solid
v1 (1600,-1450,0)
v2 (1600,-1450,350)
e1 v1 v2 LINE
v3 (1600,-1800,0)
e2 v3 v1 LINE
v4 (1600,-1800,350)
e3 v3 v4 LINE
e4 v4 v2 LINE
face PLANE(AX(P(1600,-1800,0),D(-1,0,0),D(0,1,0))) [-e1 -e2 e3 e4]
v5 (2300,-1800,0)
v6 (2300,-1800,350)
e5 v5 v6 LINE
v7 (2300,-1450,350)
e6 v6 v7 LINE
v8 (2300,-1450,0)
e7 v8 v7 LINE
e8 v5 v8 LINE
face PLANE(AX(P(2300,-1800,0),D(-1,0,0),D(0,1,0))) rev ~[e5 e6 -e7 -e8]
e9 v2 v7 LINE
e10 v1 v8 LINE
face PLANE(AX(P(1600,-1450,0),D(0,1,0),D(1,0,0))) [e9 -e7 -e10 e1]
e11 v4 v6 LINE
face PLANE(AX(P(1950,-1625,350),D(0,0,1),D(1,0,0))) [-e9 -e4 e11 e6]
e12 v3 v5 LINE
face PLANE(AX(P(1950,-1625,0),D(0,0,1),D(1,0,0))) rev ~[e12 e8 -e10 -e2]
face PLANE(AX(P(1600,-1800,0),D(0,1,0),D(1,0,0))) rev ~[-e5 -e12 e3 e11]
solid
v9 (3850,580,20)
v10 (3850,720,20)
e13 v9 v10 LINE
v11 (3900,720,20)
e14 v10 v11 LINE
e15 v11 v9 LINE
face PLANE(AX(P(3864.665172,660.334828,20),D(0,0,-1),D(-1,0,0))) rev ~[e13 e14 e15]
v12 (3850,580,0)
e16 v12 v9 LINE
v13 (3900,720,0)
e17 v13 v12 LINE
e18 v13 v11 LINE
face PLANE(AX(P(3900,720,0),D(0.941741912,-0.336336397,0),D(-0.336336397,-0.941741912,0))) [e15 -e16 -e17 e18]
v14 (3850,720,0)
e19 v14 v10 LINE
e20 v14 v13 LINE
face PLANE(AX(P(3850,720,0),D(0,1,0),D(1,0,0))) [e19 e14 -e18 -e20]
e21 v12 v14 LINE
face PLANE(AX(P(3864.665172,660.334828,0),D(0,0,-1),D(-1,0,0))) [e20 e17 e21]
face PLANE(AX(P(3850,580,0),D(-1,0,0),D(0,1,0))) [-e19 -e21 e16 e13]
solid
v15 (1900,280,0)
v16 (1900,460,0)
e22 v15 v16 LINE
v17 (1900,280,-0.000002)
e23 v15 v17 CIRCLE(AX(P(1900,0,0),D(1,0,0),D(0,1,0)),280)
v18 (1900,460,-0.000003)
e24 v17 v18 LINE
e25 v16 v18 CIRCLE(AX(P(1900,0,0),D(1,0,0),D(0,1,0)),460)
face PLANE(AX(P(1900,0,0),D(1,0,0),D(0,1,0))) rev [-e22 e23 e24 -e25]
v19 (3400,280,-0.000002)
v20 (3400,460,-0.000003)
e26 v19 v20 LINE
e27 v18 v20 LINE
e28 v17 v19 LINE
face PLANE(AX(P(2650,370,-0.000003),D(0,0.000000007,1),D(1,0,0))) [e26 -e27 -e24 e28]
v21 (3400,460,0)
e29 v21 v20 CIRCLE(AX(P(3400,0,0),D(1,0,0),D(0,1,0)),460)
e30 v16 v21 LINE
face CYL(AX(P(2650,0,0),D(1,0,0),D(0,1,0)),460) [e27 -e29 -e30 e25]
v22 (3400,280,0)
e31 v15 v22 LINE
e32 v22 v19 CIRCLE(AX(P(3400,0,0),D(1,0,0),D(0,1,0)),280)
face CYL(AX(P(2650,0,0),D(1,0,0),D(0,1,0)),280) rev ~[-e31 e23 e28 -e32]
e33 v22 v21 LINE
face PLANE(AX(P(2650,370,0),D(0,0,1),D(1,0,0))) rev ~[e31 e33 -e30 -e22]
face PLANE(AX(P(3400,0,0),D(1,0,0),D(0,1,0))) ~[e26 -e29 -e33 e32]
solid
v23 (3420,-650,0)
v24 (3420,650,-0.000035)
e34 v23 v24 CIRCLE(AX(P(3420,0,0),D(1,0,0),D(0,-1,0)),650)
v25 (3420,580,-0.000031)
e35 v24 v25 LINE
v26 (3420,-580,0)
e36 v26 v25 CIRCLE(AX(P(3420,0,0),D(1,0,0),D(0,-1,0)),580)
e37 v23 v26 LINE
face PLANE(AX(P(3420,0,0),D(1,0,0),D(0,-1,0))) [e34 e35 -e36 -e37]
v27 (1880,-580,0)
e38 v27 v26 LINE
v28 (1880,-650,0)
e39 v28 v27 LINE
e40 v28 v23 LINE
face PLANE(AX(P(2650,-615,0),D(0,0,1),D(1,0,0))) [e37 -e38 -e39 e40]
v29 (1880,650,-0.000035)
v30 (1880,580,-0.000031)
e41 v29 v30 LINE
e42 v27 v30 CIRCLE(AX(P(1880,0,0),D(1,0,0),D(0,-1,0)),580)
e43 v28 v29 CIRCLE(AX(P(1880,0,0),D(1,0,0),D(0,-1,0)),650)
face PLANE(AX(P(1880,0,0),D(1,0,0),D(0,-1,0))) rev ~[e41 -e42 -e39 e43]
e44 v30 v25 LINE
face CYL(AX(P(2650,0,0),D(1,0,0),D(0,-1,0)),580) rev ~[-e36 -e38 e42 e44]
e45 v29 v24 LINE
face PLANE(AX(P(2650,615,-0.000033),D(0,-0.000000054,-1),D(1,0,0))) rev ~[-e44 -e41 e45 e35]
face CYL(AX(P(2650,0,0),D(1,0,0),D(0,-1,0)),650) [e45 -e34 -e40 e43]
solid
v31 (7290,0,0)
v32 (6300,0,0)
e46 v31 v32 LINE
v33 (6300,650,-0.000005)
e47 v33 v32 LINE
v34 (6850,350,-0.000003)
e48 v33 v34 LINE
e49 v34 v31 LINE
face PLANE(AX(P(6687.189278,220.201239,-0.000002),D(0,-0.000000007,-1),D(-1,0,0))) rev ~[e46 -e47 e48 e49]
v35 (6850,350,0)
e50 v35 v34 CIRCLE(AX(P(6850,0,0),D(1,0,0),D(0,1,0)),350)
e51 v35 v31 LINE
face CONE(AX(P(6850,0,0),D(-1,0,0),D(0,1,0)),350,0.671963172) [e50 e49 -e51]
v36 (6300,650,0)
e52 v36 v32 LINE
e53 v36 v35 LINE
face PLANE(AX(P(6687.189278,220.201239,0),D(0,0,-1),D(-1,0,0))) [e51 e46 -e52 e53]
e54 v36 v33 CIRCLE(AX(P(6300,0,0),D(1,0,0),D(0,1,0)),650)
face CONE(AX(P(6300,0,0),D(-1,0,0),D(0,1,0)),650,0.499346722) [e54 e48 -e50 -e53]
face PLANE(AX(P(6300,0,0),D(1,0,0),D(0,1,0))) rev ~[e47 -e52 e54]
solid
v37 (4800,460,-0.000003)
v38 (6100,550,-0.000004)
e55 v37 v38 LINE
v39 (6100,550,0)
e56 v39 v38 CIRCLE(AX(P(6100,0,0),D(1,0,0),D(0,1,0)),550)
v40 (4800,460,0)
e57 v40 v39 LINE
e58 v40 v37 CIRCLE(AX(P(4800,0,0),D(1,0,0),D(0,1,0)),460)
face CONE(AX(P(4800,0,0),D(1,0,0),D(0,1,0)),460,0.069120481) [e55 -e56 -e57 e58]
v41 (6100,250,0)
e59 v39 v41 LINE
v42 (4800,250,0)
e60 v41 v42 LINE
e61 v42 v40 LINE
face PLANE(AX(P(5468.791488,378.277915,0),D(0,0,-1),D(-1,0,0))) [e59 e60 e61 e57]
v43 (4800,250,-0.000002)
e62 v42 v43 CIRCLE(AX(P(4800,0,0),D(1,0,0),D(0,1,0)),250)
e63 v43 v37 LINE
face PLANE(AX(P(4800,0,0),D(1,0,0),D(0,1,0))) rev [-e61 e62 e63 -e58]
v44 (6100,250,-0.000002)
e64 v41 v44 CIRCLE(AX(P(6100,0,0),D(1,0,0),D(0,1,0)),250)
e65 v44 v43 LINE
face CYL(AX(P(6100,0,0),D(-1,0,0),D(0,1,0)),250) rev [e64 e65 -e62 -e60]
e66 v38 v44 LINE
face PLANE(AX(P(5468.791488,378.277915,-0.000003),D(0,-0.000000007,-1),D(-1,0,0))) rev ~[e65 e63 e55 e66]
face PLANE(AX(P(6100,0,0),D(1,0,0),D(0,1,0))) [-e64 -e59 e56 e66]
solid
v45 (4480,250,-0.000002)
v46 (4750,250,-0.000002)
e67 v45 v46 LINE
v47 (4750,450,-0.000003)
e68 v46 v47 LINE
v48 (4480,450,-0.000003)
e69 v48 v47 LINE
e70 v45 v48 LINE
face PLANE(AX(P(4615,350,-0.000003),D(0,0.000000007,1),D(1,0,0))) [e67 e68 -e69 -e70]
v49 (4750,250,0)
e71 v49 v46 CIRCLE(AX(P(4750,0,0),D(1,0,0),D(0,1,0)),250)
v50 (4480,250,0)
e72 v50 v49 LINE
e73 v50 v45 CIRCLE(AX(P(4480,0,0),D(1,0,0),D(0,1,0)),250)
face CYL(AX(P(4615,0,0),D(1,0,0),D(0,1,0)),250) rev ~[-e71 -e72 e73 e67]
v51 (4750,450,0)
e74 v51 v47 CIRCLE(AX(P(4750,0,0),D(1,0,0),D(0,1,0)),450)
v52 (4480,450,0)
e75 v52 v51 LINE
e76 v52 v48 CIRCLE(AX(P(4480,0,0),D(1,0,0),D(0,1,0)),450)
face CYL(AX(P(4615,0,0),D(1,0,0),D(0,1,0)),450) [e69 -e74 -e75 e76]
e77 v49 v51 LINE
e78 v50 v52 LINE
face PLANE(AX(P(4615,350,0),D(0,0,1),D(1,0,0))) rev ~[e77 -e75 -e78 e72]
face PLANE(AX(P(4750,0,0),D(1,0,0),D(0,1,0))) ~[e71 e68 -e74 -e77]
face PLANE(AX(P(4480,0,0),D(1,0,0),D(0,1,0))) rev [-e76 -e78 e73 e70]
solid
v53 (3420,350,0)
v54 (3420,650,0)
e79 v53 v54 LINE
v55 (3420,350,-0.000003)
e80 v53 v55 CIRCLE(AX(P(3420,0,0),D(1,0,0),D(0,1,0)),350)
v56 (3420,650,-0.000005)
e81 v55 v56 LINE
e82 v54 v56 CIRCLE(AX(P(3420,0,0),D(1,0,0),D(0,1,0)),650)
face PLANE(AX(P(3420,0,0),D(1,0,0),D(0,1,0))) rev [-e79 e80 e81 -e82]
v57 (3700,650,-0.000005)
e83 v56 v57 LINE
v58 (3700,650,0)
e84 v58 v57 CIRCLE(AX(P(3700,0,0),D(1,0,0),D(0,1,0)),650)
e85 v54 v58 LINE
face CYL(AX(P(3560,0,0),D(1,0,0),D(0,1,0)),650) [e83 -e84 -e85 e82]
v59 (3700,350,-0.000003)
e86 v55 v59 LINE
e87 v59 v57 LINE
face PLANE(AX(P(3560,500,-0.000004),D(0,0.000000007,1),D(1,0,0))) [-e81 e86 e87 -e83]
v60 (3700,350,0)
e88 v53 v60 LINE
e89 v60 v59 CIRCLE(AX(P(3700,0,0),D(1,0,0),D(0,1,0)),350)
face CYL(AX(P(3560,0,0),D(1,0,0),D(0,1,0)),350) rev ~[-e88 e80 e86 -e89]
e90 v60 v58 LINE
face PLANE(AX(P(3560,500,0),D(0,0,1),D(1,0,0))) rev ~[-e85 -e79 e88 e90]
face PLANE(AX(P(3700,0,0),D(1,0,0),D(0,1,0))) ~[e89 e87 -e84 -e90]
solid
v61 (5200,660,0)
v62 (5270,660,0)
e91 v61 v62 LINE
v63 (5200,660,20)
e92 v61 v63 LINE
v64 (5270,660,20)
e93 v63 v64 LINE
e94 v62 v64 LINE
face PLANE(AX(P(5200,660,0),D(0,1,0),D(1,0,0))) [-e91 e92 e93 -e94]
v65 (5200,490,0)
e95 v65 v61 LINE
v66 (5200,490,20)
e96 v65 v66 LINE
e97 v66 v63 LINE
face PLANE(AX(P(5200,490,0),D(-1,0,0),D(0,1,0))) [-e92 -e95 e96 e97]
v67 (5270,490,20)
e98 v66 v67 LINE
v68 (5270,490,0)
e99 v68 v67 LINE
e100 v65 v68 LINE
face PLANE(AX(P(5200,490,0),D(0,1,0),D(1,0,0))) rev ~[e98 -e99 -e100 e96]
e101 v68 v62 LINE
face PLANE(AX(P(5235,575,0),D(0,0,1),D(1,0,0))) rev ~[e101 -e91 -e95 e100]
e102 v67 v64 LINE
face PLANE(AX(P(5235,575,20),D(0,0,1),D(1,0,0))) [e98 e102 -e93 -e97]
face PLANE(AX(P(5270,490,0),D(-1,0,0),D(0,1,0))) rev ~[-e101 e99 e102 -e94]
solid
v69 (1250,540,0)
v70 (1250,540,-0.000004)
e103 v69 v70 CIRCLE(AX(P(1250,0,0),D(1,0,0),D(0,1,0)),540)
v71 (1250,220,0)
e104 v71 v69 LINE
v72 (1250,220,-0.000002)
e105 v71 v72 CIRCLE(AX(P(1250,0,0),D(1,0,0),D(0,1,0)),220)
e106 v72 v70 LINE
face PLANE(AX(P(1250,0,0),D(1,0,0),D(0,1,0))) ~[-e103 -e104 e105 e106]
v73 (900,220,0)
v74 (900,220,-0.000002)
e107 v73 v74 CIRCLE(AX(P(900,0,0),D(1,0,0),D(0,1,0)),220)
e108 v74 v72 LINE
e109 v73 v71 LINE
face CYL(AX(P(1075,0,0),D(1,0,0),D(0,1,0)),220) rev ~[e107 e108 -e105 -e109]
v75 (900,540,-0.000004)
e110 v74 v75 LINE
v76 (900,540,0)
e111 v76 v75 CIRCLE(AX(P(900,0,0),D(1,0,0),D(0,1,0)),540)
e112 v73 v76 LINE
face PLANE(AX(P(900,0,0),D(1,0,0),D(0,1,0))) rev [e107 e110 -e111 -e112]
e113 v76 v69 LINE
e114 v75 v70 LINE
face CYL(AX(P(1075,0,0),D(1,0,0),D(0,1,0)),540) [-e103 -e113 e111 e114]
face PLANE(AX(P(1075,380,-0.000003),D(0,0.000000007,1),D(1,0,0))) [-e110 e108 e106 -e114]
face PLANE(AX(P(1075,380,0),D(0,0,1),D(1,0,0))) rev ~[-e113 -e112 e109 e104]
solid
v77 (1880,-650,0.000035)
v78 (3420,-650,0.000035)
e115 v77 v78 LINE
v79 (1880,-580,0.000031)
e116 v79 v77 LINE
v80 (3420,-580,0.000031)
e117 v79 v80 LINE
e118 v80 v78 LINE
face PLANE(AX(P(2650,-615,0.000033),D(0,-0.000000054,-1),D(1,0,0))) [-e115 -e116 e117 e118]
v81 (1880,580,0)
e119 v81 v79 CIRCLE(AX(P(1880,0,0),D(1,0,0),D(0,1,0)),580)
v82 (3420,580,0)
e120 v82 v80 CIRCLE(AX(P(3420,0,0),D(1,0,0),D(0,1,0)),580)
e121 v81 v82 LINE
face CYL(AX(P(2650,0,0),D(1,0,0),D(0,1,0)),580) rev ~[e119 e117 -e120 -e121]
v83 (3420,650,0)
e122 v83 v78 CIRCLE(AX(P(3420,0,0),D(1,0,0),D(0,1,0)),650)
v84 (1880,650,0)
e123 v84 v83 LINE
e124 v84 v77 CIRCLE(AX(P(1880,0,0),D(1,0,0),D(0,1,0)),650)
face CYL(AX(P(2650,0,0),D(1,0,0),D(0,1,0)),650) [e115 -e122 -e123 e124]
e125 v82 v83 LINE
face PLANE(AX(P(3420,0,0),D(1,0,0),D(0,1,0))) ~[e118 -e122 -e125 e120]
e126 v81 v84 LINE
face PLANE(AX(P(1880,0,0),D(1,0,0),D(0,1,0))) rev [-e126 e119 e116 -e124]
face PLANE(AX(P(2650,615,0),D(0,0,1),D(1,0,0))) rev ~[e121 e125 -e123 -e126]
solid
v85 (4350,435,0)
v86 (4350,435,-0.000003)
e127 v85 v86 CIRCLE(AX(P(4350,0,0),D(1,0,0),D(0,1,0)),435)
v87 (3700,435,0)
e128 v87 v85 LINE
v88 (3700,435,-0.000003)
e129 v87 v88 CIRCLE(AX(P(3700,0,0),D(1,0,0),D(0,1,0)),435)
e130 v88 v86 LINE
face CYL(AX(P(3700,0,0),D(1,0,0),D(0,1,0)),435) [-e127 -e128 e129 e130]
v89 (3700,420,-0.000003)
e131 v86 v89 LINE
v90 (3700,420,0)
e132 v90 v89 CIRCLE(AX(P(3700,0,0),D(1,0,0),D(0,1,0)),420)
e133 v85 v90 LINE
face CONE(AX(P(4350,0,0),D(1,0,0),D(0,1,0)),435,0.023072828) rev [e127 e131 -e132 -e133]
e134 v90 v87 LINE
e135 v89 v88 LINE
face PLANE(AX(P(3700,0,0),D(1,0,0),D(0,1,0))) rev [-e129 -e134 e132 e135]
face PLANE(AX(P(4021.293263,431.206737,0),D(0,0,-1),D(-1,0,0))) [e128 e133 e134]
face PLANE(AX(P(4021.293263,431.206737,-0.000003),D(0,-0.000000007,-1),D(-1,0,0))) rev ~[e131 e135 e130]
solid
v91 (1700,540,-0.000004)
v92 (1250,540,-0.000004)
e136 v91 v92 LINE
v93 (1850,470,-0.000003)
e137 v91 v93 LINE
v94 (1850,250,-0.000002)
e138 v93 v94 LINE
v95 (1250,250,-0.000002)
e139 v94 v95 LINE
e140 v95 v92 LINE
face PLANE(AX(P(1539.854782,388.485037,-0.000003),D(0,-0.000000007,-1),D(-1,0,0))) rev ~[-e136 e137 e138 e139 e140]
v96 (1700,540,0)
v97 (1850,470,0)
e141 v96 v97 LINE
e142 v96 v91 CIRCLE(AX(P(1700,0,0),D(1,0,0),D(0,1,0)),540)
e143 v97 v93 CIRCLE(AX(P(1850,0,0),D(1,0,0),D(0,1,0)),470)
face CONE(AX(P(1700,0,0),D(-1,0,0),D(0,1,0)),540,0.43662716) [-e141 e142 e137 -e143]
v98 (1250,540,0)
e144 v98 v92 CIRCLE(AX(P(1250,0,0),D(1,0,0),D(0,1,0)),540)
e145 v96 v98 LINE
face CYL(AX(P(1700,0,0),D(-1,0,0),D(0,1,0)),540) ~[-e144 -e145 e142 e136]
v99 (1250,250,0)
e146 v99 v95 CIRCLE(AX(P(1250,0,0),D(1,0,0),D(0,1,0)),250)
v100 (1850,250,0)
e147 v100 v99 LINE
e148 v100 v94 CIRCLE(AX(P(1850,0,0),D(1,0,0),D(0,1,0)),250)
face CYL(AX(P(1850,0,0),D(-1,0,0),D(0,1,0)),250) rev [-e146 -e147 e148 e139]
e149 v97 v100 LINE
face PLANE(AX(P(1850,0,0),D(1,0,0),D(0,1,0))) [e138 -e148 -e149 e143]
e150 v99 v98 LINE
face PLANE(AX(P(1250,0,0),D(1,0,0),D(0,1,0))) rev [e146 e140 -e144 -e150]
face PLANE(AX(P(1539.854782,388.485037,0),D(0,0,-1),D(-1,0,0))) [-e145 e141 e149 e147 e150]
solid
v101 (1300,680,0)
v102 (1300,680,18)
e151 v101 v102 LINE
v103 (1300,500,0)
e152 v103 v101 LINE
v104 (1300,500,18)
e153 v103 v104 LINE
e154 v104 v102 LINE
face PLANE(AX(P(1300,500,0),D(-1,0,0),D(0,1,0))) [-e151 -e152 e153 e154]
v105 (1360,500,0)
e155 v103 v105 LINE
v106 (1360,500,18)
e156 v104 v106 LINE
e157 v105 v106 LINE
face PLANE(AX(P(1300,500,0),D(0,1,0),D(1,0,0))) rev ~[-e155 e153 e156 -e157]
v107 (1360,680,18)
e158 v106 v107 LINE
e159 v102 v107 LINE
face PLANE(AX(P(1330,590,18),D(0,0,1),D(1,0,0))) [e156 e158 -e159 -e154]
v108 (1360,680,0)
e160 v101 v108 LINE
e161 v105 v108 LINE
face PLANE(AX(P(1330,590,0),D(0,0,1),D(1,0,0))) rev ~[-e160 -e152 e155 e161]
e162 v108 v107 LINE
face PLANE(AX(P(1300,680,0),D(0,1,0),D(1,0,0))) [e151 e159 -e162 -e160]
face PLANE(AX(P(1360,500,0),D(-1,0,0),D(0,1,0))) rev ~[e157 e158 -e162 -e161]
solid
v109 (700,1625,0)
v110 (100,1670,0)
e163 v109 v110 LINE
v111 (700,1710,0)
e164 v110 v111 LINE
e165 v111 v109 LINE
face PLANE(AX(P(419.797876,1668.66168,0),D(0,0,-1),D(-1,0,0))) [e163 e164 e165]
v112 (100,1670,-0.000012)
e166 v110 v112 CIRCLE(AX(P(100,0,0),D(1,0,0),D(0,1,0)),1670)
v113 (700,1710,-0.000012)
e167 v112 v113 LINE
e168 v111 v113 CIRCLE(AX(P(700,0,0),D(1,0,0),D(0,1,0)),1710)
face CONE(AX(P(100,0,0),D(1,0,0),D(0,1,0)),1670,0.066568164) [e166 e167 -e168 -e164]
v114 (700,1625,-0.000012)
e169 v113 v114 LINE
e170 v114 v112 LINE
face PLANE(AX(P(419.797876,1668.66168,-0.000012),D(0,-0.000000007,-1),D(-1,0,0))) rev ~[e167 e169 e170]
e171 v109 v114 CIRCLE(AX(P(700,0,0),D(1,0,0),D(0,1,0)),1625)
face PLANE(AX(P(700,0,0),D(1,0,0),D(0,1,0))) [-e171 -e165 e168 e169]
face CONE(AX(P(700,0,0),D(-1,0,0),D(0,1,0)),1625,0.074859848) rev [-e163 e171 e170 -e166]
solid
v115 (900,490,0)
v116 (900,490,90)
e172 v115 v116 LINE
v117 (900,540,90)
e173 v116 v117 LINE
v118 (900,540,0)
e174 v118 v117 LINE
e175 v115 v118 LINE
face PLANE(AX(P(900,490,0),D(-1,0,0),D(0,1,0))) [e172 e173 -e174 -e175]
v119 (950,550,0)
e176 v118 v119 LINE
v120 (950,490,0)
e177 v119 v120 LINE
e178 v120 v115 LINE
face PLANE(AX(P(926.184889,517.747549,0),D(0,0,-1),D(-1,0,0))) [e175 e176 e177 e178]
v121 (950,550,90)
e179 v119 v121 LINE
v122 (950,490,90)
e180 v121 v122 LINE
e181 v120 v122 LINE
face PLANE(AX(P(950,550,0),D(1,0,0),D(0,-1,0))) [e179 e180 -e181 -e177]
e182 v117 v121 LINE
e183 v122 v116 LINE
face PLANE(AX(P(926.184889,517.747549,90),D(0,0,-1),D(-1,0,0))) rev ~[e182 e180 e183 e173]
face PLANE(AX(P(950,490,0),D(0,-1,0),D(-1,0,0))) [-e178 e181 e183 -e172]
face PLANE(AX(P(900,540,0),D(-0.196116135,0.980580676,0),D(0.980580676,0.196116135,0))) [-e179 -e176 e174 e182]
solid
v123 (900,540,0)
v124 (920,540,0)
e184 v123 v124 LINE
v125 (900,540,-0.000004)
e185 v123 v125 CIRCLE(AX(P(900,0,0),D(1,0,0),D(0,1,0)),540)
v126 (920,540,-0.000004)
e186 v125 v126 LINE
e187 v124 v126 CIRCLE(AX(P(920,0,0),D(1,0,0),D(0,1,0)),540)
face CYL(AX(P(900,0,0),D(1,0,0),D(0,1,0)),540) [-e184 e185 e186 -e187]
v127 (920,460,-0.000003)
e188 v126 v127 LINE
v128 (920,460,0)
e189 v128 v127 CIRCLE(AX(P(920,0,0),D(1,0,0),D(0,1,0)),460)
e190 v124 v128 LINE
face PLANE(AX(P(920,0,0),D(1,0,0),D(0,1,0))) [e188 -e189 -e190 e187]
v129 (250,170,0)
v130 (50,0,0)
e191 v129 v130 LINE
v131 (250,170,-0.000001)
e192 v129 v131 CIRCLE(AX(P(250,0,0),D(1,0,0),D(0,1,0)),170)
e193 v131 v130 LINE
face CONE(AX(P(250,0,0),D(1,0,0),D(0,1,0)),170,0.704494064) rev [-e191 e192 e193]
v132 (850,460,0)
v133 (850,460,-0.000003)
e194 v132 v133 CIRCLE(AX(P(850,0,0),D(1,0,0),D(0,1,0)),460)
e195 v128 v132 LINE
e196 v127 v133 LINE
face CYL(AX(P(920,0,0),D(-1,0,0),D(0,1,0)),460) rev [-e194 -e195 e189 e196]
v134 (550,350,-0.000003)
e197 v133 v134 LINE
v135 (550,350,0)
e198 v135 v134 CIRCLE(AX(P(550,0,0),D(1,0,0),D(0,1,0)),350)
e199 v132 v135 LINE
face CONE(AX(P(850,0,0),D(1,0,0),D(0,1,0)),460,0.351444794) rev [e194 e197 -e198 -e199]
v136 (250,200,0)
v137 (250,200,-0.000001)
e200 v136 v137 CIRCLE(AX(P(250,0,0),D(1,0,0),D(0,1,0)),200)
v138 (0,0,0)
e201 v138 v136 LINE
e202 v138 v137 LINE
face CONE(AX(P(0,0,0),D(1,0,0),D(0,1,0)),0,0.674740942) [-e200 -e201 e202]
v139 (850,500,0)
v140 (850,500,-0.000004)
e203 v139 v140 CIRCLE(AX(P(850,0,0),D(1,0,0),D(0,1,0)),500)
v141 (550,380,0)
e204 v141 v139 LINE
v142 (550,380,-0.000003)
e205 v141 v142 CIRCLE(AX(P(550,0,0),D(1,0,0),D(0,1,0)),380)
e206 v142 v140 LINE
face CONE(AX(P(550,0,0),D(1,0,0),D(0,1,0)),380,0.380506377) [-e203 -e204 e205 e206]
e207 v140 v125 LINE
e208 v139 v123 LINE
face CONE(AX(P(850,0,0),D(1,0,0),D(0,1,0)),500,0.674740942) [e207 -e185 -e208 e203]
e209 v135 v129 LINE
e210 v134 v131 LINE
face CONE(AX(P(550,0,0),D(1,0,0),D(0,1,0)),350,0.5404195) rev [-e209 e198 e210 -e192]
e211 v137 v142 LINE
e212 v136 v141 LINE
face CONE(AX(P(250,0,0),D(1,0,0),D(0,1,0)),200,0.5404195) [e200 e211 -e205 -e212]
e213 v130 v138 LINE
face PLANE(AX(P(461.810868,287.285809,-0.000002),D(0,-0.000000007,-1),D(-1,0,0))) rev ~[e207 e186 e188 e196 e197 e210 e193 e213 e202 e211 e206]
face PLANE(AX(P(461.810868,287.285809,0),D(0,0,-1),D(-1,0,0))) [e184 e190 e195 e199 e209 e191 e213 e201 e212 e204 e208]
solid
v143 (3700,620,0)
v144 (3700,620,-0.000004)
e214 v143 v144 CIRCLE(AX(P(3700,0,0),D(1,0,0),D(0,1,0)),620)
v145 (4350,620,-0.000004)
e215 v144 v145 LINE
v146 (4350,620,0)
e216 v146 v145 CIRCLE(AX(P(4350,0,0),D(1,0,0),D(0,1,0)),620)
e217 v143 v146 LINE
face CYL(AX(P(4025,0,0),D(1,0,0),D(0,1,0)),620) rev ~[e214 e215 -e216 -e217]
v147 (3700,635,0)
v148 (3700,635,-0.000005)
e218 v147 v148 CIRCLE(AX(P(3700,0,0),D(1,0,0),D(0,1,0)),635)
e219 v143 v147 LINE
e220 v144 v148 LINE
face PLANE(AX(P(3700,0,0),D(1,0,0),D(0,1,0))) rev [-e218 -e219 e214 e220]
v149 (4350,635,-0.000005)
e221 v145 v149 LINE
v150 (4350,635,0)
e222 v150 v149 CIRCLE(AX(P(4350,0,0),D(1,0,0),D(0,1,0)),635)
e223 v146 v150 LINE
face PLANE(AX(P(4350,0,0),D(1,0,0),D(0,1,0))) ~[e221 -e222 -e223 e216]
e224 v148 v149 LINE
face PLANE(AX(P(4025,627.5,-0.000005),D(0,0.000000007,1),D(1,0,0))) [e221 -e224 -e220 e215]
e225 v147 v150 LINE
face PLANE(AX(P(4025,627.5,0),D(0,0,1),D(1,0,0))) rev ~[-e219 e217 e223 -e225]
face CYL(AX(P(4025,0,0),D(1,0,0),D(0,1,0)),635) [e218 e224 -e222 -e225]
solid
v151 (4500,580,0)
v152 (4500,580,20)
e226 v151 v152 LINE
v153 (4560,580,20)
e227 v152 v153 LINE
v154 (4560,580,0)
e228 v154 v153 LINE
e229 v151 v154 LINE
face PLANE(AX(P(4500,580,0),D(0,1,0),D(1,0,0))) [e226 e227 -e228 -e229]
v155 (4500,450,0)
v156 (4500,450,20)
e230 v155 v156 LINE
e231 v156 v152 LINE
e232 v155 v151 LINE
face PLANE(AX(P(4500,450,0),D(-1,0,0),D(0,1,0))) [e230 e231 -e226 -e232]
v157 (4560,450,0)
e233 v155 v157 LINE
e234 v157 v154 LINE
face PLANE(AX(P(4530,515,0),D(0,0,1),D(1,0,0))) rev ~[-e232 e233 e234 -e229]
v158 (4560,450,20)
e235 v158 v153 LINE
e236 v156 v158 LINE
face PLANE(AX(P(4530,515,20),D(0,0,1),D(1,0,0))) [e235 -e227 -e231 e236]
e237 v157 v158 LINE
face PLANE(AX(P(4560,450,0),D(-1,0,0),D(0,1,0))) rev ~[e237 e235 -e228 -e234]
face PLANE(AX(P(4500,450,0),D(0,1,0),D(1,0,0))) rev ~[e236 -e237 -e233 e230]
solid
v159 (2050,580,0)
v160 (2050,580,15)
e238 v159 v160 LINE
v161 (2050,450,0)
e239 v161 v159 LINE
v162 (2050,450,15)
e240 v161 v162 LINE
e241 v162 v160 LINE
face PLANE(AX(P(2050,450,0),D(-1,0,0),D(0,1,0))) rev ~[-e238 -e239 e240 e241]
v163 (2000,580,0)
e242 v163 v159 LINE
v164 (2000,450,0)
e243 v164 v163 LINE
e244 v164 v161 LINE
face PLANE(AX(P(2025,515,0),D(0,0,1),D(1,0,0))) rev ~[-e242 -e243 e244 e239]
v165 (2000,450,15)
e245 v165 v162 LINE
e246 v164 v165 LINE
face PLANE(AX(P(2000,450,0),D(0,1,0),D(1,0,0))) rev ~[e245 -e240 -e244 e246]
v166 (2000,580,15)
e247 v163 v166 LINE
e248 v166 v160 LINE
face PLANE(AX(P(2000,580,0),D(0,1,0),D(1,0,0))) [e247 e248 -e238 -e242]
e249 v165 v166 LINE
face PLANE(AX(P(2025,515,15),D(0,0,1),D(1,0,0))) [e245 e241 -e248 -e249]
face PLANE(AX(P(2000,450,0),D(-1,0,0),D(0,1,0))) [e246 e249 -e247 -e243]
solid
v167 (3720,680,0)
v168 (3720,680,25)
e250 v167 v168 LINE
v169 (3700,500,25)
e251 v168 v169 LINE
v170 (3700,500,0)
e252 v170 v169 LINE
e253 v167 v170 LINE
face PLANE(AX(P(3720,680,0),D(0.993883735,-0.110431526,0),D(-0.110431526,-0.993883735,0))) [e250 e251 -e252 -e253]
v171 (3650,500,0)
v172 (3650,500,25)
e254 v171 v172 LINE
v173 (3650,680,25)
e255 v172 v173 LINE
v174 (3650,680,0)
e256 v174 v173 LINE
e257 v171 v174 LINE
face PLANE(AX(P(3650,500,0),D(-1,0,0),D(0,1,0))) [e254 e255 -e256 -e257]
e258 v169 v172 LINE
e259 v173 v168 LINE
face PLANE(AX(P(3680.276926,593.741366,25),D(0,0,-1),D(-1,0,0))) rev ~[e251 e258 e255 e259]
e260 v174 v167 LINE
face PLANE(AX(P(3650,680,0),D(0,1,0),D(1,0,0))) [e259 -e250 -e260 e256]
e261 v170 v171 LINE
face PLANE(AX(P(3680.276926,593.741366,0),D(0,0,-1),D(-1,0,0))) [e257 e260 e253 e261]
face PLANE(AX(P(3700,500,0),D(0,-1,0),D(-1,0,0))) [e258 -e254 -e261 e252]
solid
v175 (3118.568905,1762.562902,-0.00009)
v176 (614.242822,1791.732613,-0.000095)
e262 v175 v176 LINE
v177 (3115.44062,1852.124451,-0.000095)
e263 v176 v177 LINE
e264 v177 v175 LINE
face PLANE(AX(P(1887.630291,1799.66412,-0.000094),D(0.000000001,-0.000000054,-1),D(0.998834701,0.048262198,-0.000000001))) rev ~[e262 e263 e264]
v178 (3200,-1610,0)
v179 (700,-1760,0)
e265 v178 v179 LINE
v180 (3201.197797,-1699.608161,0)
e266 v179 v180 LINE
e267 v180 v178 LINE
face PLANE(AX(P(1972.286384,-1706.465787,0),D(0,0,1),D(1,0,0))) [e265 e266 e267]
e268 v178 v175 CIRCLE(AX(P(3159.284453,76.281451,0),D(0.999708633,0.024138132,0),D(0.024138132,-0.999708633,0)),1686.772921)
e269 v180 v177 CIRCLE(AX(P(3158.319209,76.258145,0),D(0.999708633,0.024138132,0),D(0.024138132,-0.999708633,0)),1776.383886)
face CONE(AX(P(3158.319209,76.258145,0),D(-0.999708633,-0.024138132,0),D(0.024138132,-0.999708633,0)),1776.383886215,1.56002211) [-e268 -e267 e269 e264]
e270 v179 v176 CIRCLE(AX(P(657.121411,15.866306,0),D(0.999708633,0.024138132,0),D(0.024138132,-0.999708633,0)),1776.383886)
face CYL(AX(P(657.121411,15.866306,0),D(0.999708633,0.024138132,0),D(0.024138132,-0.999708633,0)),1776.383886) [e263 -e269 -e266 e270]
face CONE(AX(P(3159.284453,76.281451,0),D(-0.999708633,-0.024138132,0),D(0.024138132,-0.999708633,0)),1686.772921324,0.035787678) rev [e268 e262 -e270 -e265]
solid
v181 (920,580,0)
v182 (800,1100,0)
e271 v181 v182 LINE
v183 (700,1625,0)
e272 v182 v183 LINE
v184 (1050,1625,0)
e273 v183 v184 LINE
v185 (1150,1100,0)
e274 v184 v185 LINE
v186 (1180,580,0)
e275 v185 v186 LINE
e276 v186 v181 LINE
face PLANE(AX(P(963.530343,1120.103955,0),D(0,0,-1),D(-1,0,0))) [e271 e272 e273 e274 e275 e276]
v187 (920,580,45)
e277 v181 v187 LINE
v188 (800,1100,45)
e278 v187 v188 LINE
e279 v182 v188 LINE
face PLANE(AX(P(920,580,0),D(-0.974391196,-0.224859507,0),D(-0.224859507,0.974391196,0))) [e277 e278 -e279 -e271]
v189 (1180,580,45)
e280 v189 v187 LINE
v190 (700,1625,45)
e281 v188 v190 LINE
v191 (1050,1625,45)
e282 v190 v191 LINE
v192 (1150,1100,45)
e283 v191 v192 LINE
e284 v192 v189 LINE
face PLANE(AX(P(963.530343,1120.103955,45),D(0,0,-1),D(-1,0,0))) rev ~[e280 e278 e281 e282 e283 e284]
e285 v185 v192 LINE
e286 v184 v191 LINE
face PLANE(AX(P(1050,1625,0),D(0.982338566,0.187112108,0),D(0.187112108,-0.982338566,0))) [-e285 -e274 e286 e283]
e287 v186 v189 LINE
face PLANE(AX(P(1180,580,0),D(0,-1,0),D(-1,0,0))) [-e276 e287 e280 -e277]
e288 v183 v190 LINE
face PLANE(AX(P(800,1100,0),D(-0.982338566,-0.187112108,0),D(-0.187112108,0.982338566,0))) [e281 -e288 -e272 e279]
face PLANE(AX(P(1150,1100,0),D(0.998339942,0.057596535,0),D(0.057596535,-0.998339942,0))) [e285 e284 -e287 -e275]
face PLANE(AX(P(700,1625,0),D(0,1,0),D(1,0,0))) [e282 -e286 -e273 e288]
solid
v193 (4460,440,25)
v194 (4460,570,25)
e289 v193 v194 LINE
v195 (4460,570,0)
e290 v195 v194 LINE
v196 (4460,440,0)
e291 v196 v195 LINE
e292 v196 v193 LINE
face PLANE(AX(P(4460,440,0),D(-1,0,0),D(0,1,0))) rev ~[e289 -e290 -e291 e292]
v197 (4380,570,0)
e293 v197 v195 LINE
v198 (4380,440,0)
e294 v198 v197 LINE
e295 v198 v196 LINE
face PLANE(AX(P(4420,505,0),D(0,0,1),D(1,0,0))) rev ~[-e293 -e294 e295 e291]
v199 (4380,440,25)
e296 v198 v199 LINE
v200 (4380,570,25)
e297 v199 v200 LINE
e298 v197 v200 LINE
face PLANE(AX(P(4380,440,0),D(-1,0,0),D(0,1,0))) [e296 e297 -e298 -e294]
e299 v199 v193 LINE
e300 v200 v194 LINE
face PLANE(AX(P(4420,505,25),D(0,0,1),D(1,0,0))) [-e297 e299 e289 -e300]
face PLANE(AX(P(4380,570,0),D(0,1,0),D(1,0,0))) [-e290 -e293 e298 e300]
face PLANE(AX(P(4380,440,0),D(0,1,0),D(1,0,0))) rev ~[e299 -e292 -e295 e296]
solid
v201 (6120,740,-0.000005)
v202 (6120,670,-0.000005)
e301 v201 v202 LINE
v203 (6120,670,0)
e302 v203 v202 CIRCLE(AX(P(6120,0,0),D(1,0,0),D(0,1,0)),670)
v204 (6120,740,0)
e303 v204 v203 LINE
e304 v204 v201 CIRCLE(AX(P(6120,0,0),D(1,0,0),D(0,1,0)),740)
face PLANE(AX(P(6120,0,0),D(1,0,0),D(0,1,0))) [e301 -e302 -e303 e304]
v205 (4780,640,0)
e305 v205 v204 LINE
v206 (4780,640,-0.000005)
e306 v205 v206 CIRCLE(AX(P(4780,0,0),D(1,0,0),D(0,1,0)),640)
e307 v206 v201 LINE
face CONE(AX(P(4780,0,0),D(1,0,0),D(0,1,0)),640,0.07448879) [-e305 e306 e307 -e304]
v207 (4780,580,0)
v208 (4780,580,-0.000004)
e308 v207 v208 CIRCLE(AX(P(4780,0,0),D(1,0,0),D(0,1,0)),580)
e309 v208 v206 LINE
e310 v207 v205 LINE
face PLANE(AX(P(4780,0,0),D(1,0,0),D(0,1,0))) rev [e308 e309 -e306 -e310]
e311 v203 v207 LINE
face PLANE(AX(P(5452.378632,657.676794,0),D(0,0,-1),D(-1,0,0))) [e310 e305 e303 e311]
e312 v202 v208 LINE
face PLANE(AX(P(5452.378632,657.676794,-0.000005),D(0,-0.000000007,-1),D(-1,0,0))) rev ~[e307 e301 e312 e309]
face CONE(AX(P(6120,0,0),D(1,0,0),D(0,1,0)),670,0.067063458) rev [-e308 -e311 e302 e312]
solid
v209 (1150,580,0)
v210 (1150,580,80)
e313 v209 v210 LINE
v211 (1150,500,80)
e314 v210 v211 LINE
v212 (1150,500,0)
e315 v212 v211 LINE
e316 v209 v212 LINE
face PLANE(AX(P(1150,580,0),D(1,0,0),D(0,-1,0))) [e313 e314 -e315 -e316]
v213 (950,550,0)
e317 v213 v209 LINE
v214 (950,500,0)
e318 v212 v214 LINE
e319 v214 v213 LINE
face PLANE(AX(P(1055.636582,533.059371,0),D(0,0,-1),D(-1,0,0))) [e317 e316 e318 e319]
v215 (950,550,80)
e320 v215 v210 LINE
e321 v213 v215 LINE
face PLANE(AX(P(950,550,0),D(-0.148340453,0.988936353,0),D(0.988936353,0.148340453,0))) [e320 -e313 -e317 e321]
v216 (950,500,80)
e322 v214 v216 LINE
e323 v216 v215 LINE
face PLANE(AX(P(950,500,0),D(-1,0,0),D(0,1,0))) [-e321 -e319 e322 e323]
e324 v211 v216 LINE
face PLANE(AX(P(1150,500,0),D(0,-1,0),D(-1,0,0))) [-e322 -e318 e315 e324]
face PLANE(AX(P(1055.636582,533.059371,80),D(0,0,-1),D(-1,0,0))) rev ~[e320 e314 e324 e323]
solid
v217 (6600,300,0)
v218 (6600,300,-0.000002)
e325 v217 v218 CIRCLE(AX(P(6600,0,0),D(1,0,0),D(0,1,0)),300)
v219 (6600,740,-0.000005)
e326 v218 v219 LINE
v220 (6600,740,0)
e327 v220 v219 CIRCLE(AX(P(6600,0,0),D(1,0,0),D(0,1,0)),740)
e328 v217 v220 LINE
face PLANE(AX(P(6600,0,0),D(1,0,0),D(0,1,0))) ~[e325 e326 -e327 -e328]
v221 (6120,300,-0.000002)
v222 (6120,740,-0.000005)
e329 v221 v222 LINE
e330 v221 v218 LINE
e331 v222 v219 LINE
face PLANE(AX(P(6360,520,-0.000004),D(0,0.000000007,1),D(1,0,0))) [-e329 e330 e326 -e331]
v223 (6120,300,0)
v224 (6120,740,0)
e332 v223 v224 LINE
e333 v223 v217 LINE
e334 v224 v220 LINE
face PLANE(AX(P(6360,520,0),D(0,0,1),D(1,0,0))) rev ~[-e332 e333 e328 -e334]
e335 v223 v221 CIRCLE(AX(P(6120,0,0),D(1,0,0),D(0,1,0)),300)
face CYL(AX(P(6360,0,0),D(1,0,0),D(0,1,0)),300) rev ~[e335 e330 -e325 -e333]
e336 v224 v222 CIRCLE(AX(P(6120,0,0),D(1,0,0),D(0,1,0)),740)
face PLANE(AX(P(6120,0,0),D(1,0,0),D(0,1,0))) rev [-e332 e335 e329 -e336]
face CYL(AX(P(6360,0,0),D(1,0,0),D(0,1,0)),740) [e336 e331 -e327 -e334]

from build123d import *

# Parameters (mm, degrees)
REVOLVE1_ANGLE       = 359.999999589
SKETCH2_W            = 350
SKETCH2_H            = 320
REVOLVE2_ANGLE       = 359.999999589
BOSS_EXTRUDE1_DEPTH  = 80
BOSS_EXTRUDE2_DEPTH  = 45
BOSS_EXTRUDE3_DEPTH  = 90
REVOLVE3_ANGLE       = 359.999999589
REVOLVE5_ANGLE       = 359.999999589
SKETCH9_W            = 60
SKETCH9_H            = 180
BOSS_EXTRUDE5_DEPTH  = 18
SKETCH11_W           = 1500
SKETCH11_H           = 180
REVOLVE7_ANGLE       = 359.999999589
SKETCH12_W           = 50
SKETCH12_H           = 130
BOSS_EXTRUDE6_DEPTH  = 15
SKETCH13_W           = 1540
SKETCH13_H           = 70
REVOLVE8_ANGLE       = 179.99999693
SKETCH14_W           = 1540
SKETCH14_H           = 70
REVOLVE9_ANGLE       = 179.99999693
SKETCH15_W           = 280
SKETCH15_H           = 300
REVOLVE10_ANGLE      = 359.999999589
SKETCH16_W           = 650
SKETCH16_H           = 15
REVOLVE11_ANGLE      = 359.999999589
REVOLVE12_ANGLE      = 359.999999589
BOSS_EXTRUDE7_DEPTH  = 25
BOSS_EXTRUDE8_DEPTH  = 20
SKETCH20_W           = 80
SKETCH20_H           = 130
BOSS_EXTRUDE9_DEPTH  = 25
SKETCH21_W           = 270
SKETCH21_H           = 200
REVOLVE13_ANGLE      = 359.999999589
SKETCH22_W           = 60
SKETCH22_H           = 130
BOSS_EXTRUDE10_DEPTH = 20
REVOLVE14_ANGLE      = 359.999999589
SKETCH24_W           = 70
SKETCH24_H           = 170
BOSS_EXTRUDE11_DEPTH = 20
REVOLVE15_ANGLE      = 359.999999589
SKETCH26_W           = 480
SKETCH26_H           = 440
REVOLVE16_ANGLE      = 359.999999589
REVOLVE17_ANGLE      = 359.999999589
SKETCH32_W           = 700
SKETCH32_H           = 350
BOSS_EXTRUDE12_DEPTH = 350
REVOLVE23_ANGLE      = 179.99999693


with BuildPart() as part:
    # Sketch1 → Revolve1 (revolve)
    with BuildSketch(Plane.XY):
        Polygon((0, 0), (250, 200), (550, 380), (850, 500), (900, 540), (920, 540), (920, 460), (850, 460), (550, 350), (250, 170), (50, 0), align=None)
    revolve(axis=Axis((0, 0, 0), (1, 0, 0)), revolution_arc=REVOLVE1_ANGLE)


with BuildPart() as body_2:
    # Sketch2 → Revolve2 (revolve)
    with BuildSketch(Plane.XY):
        with Locations((1075, 380)):
            Rectangle(SKETCH2_W, SKETCH2_H)
    revolve(axis=Axis((0, 0, 0), (1, 0, 0)), revolution_arc=REVOLVE2_ANGLE)


with BuildPart() as body_3:
    # Sketch3 → Boss-Extrude1 (new body)
    with BuildSketch(Plane.XY):
        Polygon((950, 500), (950, 550), (1150, 580), (1150, 500), align=None)
    extrude(amount=BOSS_EXTRUDE1_DEPTH)


with BuildPart() as body_4:
    # Sketch4 → Boss-Extrude2 (new body)
    with BuildSketch(Plane.XY):
        Polygon((920, 580), (800, 1100), (700, 1625), (1050, 1625), (1150, 1100), (1180, 580), align=None)
    extrude(amount=BOSS_EXTRUDE2_DEPTH)


with BuildPart() as body_5:
    # Sketch5 → Boss-Extrude3 (new body)
    with BuildSketch(Plane.XY):
        Polygon((900, 490), (900, 540), (950, 550), (950, 490), align=None)
    extrude(amount=BOSS_EXTRUDE3_DEPTH)


with BuildPart() as body_6:
    # Sketch6 → Revolve3 (revolve)
    with BuildSketch(Plane.XY):
        Polygon((100, 1670), (700, 1710), (700, 1625), align=None)
    revolve(axis=Axis((0, 0, 0), (1, 0, 0)), revolution_arc=REVOLVE3_ANGLE)


with BuildPart() as body_7:
    # Sketch8 → Revolve5 (revolve)
    with BuildSketch(Plane.XY):
        Polygon((1250, 250), (1250, 540), (1400, 540), (1550, 540), (1700, 540), (1850, 470), (1850, 250), align=None)
    revolve(axis=Axis((0, 0, 0), (1, 0, 0)), revolution_arc=REVOLVE5_ANGLE)


with BuildPart() as body_8:
    # Sketch9 → Boss-Extrude5 (new body)
    with BuildSketch(Plane.XY):
        with Locations((1330, 590)):
            Rectangle(SKETCH9_W, SKETCH9_H)
    extrude(amount=BOSS_EXTRUDE5_DEPTH)


with BuildPart() as body_9:
    # Sketch11 → Revolve7 (revolve)
    with BuildSketch(Plane.XY):
        with Locations((2650, 370)):
            Rectangle(SKETCH11_W, SKETCH11_H)
    revolve(axis=Axis((0, 0, 0), (1, 0, 0)), revolution_arc=REVOLVE7_ANGLE)


with BuildPart() as body_10:
    # Sketch12 → Boss-Extrude6 (new body)
    with BuildSketch(Plane.XY):
        with Locations((2025, 515)):
            Rectangle(SKETCH12_W, SKETCH12_H)
    extrude(amount=BOSS_EXTRUDE6_DEPTH)


with BuildPart() as body_11:
    # Sketch13 → Revolve8 (revolve)
    with BuildSketch(Plane.XY):
        with Locations((2650, 615)):
            Rectangle(SKETCH13_W, SKETCH13_H)
    revolve(axis=Axis((0, 0, 0), (1, 0, 0)), revolution_arc=REVOLVE8_ANGLE)


with BuildPart() as body_12:
    # Sketch14 → Revolve9 (revolve)
    with BuildSketch(Plane.XY):
        with Locations((2650, -615)):
            Rectangle(SKETCH14_W, SKETCH14_H)
    revolve(axis=Axis((0, 0, 0), (1, 0, 0)), revolution_arc=REVOLVE9_ANGLE)


with BuildPart() as body_13:
    # Sketch15 → Revolve10 (revolve)
    with BuildSketch(Plane.XY):
        with Locations((3560, 500)):
            Rectangle(SKETCH15_W, SKETCH15_H)
    revolve(axis=Axis((0, 0, 0), (1, 0, 0)), revolution_arc=REVOLVE10_ANGLE)


with BuildPart() as body_14:
    # Sketch16 → Revolve11 (revolve)
    with BuildSketch(Plane.XY):
        with Locations((4025, 627.5)):
            Rectangle(SKETCH16_W, SKETCH16_H)
    revolve(axis=Axis((0, 0, 0), (1, 0, 0)), revolution_arc=REVOLVE11_ANGLE)


with BuildPart() as body_15:
    # Sketch17 → Revolve12 (revolve)
    with BuildSketch(Plane.XY):
        Polygon((3700, 420), (3700, 435), (4350, 435), align=None)
    revolve(axis=Axis((0, 0, 0), (1, 0, 0)), revolution_arc=REVOLVE12_ANGLE)


with BuildPart() as body_16:
    # Sketch18 → Boss-Extrude7 (new body)
    with BuildSketch(Plane.XY):
        Polygon((3650, 500), (3650, 680), (3720, 680), (3700, 500), align=None)
    extrude(amount=BOSS_EXTRUDE7_DEPTH)


with BuildPart() as body_17:
    # Sketch19 → Boss-Extrude8 (new body)
    with BuildSketch(Plane.XY):
        Polygon((3850, 580), (3850, 720), (3900, 720), align=None)
    extrude(amount=BOSS_EXTRUDE8_DEPTH)


with BuildPart() as body_18:
    # Sketch20 → Boss-Extrude9 (new body)
    with BuildSketch(Plane.XY):
        with Locations((4420, 505)):
            Rectangle(SKETCH20_W, SKETCH20_H)
    extrude(amount=BOSS_EXTRUDE9_DEPTH)


with BuildPart() as body_19:
    # Sketch21 → Revolve13 (revolve)
    with BuildSketch(Plane.XY):
        with Locations((4615, 350)):
            Rectangle(SKETCH21_W, SKETCH21_H)
    revolve(axis=Axis((0, 0, 0), (1, 0, 0)), revolution_arc=REVOLVE13_ANGLE)


with BuildPart() as body_20:
    # Sketch22 → Boss-Extrude10 (new body)
    with BuildSketch(Plane.XY):
        with Locations((4530, 515)):
            Rectangle(SKETCH22_W, SKETCH22_H)
    extrude(amount=BOSS_EXTRUDE10_DEPTH)


with BuildPart() as body_21:
    # Sketch23 → Revolve14 (revolve)
    with BuildSketch(Plane.XY):
        Polygon((4800, 250), (4800, 460), (6100, 550), (6100, 250), align=None)
    revolve(axis=Axis((0, 0, 0), (1, 0, 0)), revolution_arc=REVOLVE14_ANGLE)


with BuildPart() as body_22:
    # Sketch24 → Boss-Extrude11 (new body)
    with BuildSketch(Plane.XY):
        with Locations((5235, 575)):
            Rectangle(SKETCH24_W, SKETCH24_H)
    extrude(amount=BOSS_EXTRUDE11_DEPTH)


with BuildPart() as body_23:
    # Sketch25 → Revolve15 (revolve)
    with BuildSketch(Plane.XY):
        Polygon((4780, 580), (4780, 640), (6120, 740), (6120, 670), align=None)
    revolve(axis=Axis((0, 0, 0), (1, 0, 0)), revolution_arc=REVOLVE15_ANGLE)


with BuildPart() as body_24:
    # Sketch26 → Revolve16 (revolve)
    with BuildSketch(Plane.XY):
        with Locations((6360, 520)):
            Rectangle(SKETCH26_W, SKETCH26_H)
    revolve(axis=Axis((0, 0, 0), (1, 0, 0)), revolution_arc=REVOLVE16_ANGLE)


with BuildPart() as body_25:
    # Sketch27 → Revolve17 (revolve)
    with BuildSketch(Plane.XY):
        Polygon((6300, 350), (6300, 650), (6850, 350), (7290, 0), (6300, 0), align=None)
    revolve(axis=Axis((0, 0, 0), (1, 0, 0)), revolution_arc=REVOLVE17_ANGLE)


with BuildPart() as body_26:
    # Sketch32 → Boss-Extrude12 (new body)
    with BuildSketch(Plane.XY):
        with Locations((1950, -1625)):
            Rectangle(SKETCH32_W, SKETCH32_H)
    extrude(amount=BOSS_EXTRUDE12_DEPTH)


with BuildPart() as body_27:
    # Sketch34 → Revolve23 (revolve)
    with BuildSketch(Plane.XY):
        Polygon((700, -1760), (3201.197797342, -1699.608161176), (3200, -1610), align=None)
    revolve(axis=Axis((0, 0, 0), (0.9997086328440268, 0.02413813201403536, 0)), revolution_arc=REVOLVE23_ANGLE)


solid = Compound([part.part, body_2.part, body_3.part, body_4.part, body_5.part, body_6.part, body_7.part, body_8.part, body_9.part, body_10.part, body_11.part, body_12.part, body_13.part, body_14.part, body_15.part, body_16.part, body_17.part, body_18.part, body_19.part, body_20.part, body_21.part, body_22.part, body_23.part, body_24.part, body_25.part, body_26.part, body_27.part])
